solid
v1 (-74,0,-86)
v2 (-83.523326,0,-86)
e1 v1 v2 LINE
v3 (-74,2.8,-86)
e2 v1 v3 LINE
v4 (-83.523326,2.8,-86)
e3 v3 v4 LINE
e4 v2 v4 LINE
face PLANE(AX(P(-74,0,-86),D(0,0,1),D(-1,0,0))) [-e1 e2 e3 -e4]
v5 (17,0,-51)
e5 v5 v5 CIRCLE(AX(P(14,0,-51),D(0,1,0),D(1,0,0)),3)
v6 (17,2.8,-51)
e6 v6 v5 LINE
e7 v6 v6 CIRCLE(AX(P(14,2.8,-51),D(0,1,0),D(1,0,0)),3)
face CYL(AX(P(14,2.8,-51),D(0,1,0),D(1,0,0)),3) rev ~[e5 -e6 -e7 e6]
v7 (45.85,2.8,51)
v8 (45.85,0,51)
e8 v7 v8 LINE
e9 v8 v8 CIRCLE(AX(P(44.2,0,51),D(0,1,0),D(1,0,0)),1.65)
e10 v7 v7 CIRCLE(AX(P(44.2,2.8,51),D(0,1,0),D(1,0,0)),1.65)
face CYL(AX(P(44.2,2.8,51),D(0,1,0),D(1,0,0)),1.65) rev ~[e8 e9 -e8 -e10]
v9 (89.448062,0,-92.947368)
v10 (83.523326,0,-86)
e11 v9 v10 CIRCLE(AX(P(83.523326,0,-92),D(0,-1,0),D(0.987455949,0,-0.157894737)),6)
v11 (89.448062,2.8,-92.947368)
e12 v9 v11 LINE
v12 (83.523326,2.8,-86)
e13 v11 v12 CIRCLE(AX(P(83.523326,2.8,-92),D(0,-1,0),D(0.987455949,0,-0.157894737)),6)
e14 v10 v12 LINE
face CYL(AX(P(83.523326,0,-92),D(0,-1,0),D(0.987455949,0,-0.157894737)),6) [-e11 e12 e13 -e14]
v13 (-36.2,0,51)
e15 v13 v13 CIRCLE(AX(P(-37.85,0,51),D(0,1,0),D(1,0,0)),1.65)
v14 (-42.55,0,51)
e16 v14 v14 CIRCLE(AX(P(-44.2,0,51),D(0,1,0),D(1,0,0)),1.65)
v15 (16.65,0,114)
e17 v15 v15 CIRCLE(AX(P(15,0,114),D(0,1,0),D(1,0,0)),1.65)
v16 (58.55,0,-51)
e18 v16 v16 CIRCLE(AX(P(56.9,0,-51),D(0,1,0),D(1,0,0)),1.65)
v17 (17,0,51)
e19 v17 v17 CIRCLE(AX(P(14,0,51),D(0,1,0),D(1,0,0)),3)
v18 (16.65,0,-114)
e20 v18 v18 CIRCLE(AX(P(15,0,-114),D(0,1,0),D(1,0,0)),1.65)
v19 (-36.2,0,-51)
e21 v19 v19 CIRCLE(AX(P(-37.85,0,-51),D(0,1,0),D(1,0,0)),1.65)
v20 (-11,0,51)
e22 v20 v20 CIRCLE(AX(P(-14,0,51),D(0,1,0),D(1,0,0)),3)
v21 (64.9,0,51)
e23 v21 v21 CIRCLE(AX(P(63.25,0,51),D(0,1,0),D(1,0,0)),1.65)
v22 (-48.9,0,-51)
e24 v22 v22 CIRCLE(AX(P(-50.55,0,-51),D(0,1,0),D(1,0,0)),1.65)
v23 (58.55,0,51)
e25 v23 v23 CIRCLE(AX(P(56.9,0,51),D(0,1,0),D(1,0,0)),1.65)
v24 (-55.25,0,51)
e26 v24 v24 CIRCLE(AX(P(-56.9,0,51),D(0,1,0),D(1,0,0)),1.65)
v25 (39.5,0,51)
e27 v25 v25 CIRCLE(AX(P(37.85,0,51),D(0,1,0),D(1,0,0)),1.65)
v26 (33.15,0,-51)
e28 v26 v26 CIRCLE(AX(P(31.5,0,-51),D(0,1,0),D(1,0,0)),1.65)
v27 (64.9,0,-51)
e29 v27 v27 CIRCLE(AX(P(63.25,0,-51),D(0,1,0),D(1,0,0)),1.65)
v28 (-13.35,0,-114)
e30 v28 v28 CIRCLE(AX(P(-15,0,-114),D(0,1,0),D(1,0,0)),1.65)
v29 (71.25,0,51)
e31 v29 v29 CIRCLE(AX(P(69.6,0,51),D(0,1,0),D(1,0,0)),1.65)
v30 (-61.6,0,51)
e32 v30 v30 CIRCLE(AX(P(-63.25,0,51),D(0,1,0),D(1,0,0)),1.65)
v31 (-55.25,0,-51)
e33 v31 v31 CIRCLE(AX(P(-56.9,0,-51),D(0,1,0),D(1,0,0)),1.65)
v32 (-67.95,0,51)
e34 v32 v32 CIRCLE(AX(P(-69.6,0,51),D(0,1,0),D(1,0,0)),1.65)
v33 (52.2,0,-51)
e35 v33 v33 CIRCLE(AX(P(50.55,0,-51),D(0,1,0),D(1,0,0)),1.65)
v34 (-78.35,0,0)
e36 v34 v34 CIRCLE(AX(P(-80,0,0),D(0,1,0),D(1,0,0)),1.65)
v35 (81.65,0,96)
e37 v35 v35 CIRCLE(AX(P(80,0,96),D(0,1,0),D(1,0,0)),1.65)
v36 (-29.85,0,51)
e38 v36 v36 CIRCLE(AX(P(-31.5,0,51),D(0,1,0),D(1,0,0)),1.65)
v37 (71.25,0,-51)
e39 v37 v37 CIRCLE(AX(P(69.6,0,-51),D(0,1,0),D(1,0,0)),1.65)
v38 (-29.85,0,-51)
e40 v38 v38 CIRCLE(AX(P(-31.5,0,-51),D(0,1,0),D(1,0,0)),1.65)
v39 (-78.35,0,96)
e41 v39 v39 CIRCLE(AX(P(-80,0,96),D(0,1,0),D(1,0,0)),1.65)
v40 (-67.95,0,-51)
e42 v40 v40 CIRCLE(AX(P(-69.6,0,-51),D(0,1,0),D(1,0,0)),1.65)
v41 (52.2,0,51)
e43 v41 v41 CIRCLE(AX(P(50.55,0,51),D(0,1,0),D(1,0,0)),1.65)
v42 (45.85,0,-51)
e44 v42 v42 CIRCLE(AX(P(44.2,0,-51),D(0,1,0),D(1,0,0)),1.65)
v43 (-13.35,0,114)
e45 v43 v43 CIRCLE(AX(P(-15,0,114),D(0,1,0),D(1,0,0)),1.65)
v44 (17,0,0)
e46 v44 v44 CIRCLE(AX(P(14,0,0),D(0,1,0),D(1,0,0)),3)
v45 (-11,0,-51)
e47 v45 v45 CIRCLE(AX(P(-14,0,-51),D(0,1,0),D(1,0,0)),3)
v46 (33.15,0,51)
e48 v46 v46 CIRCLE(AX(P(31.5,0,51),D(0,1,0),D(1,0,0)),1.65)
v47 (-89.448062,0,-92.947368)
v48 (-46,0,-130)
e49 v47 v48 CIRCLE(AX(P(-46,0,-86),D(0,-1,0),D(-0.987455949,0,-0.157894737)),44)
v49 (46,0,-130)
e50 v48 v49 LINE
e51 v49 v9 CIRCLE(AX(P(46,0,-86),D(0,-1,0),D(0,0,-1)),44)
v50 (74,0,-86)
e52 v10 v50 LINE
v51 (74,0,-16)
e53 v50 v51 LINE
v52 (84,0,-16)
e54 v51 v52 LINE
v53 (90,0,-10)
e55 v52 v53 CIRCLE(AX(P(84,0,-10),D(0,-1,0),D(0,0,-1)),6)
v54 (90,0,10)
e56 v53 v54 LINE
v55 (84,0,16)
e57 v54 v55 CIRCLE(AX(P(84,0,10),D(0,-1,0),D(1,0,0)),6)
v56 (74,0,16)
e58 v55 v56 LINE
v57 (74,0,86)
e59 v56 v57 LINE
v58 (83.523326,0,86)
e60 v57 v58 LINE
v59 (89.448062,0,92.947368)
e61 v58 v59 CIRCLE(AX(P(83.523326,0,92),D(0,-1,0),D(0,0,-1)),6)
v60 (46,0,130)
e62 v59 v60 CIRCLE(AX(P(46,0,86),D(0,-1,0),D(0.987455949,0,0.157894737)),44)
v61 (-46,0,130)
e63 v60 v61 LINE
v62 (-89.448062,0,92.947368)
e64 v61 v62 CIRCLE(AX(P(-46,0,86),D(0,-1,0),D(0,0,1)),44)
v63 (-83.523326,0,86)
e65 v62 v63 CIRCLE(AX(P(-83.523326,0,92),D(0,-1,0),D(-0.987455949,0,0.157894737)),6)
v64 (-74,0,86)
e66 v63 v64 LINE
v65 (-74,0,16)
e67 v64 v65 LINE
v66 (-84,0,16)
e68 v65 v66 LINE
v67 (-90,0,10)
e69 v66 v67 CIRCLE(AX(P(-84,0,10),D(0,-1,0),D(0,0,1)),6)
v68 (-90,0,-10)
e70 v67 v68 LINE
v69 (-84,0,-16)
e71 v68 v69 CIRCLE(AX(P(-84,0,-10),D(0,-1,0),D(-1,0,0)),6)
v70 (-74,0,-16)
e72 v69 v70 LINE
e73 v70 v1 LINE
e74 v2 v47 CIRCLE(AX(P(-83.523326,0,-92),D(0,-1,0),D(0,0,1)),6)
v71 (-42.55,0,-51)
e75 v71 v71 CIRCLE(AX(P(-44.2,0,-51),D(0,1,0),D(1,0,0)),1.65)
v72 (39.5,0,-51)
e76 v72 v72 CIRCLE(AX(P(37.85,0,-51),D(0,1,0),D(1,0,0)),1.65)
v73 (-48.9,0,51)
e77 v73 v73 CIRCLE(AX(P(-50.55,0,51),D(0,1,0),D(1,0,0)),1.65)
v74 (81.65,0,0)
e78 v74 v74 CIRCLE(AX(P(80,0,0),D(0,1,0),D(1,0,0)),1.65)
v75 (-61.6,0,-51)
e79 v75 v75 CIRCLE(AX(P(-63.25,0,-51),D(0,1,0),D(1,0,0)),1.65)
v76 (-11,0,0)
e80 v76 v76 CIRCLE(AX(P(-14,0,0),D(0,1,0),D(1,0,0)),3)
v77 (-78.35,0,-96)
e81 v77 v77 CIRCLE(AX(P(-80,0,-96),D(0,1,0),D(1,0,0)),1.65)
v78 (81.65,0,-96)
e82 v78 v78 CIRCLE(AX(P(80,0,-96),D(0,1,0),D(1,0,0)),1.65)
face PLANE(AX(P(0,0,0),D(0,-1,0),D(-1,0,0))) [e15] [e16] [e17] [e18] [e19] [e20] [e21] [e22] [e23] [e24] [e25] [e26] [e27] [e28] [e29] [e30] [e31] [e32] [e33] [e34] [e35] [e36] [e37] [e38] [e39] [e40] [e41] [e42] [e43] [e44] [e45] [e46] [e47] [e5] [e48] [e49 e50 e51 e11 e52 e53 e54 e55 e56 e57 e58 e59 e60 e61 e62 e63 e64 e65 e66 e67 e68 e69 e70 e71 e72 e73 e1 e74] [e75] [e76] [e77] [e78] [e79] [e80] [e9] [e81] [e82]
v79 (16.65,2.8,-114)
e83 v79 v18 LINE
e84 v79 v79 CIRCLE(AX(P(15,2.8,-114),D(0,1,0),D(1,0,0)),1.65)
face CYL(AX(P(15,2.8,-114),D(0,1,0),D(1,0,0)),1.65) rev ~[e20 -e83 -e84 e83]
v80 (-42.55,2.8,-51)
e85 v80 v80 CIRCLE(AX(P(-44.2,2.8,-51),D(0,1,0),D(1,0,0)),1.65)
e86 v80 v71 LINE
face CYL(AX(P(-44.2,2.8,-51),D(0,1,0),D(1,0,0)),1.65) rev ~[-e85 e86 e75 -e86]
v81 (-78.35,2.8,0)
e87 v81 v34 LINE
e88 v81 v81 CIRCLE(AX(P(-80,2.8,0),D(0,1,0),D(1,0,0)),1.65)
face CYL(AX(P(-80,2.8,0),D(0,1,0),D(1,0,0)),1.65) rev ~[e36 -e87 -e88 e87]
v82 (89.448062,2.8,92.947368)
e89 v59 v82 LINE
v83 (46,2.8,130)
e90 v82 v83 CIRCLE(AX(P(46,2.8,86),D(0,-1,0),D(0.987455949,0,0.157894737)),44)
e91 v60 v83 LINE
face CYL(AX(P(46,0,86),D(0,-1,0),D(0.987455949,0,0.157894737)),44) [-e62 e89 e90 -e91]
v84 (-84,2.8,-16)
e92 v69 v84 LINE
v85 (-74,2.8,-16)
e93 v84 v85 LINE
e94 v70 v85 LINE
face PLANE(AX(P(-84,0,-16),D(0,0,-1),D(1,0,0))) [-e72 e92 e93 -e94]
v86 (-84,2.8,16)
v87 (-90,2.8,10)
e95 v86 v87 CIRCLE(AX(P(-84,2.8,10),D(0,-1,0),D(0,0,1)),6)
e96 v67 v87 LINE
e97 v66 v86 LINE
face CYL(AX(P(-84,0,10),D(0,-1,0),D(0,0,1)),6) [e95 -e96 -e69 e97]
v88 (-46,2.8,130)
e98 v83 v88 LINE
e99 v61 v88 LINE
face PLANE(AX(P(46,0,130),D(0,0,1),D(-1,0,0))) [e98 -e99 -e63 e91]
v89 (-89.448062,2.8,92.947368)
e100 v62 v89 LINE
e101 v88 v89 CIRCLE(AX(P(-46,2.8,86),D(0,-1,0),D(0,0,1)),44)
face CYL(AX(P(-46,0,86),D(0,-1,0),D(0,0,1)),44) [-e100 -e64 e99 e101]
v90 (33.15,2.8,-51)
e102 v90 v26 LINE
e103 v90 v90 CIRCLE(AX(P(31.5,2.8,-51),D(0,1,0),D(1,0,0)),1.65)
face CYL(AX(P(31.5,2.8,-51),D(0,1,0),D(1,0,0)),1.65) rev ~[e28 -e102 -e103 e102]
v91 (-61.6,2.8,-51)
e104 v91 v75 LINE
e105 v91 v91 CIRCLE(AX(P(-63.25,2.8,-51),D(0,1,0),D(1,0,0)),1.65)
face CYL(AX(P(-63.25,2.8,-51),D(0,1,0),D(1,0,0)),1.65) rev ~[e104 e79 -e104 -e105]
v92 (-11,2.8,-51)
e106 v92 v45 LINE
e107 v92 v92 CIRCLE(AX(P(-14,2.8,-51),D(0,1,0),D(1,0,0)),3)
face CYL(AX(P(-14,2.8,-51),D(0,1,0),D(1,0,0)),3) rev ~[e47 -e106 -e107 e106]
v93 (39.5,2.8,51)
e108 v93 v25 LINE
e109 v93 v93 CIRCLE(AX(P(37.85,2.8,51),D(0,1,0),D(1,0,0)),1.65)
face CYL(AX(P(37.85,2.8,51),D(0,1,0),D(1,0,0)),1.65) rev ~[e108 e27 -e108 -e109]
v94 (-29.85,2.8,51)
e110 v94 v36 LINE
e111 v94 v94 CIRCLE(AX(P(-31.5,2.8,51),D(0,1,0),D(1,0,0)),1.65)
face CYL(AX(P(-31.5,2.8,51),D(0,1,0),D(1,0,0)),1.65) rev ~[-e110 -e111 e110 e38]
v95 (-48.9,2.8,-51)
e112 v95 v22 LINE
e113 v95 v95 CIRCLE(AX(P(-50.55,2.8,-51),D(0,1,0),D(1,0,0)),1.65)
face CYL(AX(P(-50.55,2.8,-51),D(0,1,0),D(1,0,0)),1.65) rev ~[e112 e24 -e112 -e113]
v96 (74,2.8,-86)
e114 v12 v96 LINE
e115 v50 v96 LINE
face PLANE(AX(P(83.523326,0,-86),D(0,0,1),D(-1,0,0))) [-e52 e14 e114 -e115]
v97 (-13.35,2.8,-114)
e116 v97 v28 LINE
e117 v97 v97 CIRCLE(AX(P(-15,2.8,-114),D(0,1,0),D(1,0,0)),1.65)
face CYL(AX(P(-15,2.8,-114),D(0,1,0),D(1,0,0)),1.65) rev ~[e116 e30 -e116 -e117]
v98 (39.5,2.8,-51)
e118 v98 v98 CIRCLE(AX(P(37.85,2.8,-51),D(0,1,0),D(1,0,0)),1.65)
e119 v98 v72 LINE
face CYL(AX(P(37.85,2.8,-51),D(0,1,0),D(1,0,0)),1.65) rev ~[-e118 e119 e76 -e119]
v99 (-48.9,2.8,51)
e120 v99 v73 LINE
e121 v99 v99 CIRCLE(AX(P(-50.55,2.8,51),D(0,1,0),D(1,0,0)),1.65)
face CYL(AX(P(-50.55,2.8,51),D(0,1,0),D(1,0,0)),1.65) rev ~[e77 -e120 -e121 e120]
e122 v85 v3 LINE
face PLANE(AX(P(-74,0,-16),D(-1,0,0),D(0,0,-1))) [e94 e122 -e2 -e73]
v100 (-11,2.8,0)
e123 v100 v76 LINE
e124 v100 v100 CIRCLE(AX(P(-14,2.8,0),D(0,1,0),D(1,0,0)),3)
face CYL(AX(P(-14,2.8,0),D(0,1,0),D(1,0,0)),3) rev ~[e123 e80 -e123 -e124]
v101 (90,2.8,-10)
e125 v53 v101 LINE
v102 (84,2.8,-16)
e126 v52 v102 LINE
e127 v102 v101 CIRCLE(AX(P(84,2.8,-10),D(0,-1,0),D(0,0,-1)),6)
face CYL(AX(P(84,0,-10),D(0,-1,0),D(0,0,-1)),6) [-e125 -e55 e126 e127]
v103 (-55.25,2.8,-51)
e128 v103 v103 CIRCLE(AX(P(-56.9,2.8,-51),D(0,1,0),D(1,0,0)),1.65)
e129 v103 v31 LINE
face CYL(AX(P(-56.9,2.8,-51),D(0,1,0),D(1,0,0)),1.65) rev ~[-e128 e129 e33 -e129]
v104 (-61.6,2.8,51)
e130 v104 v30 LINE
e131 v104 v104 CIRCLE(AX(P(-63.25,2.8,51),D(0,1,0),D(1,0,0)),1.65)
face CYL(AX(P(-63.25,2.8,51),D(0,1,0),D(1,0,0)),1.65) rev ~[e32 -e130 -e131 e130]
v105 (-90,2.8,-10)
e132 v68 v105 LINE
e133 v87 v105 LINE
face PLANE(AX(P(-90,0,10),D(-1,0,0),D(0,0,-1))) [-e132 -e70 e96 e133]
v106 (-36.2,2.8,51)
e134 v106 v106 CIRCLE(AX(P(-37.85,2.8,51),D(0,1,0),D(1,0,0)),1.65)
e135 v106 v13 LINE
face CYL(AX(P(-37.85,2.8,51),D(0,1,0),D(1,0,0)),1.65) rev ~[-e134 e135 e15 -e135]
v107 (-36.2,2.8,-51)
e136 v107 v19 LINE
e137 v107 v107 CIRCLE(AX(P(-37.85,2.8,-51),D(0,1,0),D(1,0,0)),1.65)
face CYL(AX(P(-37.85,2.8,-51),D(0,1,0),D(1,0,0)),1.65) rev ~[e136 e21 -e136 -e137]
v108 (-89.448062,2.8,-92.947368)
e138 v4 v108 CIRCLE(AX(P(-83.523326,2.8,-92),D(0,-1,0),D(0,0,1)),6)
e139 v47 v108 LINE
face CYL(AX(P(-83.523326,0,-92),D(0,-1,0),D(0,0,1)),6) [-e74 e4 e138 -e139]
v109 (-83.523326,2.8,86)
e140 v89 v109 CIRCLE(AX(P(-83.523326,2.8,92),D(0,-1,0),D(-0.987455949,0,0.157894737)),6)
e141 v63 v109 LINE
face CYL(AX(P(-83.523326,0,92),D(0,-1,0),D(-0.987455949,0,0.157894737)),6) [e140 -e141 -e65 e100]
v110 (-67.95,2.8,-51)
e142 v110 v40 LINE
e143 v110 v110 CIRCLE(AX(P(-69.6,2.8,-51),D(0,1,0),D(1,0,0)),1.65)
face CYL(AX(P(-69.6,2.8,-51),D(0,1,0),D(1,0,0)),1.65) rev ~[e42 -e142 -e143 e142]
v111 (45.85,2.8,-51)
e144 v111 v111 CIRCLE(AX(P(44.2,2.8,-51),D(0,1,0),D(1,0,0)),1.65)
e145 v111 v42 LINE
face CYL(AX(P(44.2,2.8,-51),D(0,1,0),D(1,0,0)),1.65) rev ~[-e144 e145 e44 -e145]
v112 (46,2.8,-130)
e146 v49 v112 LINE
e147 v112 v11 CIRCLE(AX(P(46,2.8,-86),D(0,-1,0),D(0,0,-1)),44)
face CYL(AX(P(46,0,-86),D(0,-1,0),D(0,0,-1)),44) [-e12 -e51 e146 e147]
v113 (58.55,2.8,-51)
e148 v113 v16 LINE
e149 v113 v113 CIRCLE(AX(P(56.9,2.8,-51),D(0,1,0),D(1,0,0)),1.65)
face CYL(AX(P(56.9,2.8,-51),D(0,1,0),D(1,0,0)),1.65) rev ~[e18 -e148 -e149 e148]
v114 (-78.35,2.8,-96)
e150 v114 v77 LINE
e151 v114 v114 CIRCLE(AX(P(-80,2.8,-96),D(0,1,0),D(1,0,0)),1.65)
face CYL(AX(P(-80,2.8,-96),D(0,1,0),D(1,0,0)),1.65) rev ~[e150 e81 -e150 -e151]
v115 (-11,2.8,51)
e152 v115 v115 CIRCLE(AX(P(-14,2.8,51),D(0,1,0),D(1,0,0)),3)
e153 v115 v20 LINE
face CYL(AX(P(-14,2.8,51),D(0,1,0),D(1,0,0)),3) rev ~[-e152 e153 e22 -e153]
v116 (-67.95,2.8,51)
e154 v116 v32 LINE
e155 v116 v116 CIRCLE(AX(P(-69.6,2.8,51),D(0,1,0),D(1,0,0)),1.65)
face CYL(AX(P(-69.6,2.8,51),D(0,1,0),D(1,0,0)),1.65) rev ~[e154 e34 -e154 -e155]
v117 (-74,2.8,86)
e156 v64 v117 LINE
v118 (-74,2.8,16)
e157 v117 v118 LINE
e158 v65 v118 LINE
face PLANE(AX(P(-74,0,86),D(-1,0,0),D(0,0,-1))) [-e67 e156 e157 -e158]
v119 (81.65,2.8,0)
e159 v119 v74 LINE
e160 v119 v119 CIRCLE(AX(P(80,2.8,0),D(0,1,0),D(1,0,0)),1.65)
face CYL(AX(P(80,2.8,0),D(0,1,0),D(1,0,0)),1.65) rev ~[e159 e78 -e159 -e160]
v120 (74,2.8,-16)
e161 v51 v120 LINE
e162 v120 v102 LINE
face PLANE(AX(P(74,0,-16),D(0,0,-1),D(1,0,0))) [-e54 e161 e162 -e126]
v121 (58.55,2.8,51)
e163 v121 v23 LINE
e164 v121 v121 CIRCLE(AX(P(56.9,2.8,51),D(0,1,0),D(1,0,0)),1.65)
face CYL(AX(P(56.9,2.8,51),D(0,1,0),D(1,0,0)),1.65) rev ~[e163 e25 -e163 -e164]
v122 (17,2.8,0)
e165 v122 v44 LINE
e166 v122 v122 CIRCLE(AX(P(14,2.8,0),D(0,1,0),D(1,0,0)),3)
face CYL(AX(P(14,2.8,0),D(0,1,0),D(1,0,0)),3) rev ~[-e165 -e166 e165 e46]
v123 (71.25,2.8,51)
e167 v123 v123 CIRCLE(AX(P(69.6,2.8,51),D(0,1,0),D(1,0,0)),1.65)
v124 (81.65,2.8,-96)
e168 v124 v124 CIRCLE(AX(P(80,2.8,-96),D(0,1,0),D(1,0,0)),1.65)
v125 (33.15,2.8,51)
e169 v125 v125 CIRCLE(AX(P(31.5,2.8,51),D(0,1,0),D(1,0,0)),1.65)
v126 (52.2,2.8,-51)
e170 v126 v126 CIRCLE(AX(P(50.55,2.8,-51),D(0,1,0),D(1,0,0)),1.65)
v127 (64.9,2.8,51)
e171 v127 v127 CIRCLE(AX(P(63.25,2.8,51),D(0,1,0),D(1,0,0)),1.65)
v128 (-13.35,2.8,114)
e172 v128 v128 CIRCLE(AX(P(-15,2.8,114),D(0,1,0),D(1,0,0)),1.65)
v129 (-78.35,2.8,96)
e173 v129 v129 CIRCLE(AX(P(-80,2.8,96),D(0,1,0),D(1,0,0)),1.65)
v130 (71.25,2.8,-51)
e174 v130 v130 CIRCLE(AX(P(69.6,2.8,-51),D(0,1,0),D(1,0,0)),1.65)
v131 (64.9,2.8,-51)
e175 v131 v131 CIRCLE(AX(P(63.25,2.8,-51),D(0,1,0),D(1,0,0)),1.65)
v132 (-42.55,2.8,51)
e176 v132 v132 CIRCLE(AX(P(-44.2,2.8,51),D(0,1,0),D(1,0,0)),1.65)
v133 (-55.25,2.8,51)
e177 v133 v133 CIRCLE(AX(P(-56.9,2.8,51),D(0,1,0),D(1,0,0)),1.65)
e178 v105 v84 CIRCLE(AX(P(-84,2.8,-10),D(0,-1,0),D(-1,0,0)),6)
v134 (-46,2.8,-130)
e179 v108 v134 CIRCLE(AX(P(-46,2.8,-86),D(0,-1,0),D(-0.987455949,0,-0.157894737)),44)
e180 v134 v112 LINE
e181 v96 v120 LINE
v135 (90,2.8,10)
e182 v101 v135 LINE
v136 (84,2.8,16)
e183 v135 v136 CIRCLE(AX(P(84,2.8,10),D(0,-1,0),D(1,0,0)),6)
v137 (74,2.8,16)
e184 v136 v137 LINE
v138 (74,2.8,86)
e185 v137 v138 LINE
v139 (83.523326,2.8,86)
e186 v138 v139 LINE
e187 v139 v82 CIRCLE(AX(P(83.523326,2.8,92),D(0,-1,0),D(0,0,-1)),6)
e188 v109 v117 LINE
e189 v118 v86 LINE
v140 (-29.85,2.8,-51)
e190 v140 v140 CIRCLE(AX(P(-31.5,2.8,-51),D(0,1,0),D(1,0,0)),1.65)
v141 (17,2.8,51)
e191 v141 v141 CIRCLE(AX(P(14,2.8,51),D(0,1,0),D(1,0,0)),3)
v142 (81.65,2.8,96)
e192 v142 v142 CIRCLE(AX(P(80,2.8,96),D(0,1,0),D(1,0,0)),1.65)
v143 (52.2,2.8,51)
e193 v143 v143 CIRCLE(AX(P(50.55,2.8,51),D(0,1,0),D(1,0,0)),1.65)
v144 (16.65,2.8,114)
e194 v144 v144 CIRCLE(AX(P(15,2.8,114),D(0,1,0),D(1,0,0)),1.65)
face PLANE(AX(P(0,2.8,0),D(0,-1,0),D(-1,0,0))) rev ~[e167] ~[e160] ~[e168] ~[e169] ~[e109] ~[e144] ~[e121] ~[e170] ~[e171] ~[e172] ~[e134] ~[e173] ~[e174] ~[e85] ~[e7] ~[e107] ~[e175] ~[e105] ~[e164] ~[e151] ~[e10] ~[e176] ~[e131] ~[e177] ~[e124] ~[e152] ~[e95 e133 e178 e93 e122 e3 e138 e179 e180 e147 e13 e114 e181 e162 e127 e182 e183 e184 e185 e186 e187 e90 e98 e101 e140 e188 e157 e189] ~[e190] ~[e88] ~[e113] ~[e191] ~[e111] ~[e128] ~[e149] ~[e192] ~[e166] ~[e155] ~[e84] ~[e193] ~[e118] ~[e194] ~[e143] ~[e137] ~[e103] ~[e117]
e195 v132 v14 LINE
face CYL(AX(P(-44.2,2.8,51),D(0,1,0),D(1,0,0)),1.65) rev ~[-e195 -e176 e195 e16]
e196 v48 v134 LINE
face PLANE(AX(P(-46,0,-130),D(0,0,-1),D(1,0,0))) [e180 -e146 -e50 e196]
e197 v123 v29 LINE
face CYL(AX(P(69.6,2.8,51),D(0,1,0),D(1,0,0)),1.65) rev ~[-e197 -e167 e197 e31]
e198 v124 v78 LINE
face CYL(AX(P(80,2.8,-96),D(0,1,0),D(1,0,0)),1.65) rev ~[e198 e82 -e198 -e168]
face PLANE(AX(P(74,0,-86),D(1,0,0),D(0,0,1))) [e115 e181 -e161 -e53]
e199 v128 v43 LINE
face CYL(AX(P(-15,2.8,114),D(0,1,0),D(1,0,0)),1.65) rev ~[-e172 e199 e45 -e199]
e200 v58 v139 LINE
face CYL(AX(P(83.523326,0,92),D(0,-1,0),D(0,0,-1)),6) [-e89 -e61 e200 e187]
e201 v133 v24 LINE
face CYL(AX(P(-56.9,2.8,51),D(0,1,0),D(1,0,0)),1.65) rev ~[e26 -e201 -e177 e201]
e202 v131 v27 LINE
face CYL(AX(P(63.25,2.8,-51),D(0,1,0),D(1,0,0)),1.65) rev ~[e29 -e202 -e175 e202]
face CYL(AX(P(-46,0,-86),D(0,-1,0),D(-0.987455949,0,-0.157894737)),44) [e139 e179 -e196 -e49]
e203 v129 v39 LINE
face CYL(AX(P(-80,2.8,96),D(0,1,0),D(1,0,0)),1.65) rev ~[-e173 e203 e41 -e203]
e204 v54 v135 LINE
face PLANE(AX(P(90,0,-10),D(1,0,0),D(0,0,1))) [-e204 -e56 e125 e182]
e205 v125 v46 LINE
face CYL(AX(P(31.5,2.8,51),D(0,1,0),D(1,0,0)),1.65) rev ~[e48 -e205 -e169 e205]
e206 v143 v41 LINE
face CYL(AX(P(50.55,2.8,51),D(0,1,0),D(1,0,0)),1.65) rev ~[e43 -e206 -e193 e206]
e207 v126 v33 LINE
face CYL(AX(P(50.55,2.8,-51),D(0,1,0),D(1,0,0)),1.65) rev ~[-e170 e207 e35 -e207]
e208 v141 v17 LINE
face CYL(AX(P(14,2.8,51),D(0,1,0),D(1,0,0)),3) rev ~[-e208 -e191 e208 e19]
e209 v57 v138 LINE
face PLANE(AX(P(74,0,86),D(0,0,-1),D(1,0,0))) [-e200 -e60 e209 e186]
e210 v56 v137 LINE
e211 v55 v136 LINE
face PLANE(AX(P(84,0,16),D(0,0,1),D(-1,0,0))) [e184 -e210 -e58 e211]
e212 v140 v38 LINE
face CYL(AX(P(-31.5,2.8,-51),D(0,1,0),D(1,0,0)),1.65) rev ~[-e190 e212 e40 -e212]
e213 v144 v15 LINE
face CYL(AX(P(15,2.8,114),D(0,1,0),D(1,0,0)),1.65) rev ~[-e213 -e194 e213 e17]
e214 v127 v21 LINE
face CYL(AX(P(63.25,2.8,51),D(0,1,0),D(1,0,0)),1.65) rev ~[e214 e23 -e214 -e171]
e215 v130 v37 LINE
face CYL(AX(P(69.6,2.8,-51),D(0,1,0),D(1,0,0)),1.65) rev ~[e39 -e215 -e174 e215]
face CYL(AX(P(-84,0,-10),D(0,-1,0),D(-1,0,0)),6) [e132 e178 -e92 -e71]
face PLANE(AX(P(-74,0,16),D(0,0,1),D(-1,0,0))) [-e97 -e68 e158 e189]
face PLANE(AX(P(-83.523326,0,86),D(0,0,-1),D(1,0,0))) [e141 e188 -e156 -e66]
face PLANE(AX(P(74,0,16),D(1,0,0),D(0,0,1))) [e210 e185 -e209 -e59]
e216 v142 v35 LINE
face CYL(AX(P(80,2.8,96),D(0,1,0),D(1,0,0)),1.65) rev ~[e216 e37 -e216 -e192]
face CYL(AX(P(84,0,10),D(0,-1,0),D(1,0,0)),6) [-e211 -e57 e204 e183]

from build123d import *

# Parameters (mm, degrees)
BOSS_EXTRUDE4_DEPTH = 2.8
SKETCH5_R           = 1.65
SKETCH5_R_2         = 3
CUT_EXTRUDE1_DEPTH  = 3.8


with BuildPart() as part:
    # Sketch2 → Boss-Extrude4 (new body)
    with BuildSketch(Plane(origin=(0, 0, 0), x_dir=(1, 0, 0), z_dir=(0, 1, 0))):
        with BuildLine():
            Line((46, -130), (-46, -130))
            ThreePointArc((-46, -130), (-74.550970119, -119.478980051), (-89.448061775, -92.947368421))
            ThreePointArc((-89.448061775, -92.947368421), (-88.08864154, -88.106685893), (-83.523326079, -86))
            Line((-83.523326079, -86), (-74, -86))
            Line((-74, -86), (-74, -16))
            Line((-74, -16), (-84, -16))
            ThreePointArc((-84, -16), (-88.242640687, -14.242640687), (-90, -10))
            Line((-90, -10), (-90, 10))
            ThreePointArc((-90, 10), (-88.242640687, 14.242640687), (-84, 16))
            Line((-84, 16), (-74, 16))
            Line((-74, 16), (-74, 86))
            Line((-74, 86), (-83.523326079, 86))
            ThreePointArc((-83.523326079, 86), (-88.08864154, 88.106685893), (-89.448061775, 92.947368421))
            ThreePointArc((-89.448061775, 92.947368421), (-74.550970119, 119.478980051), (-46, 130))
            Line((-46, 130), (46, 130))
            ThreePointArc((46, 130), (74.550970119, 119.478980051), (89.448061775, 92.947368421))
            ThreePointArc((89.448061775, 92.947368421), (88.08864154, 88.106685893), (83.523326079, 86))
            Line((83.523326079, 86), (74, 86))
            Line((74, 86), (74, 16))
            Line((74, 16), (84, 16))
            ThreePointArc((84, 16), (88.242640687, 14.242640687), (90, 10))
            Line((90, 10), (90, -10))
            ThreePointArc((90, -10), (88.242640687, -14.242640687), (84, -16))
            Line((84, -16), (74, -16))
            Line((74, -16), (74, -86))
            Line((74, -86), (83.523326079, -86))
            ThreePointArc((83.523326079, -86), (88.08864154, -88.106685893), (89.448061775, -92.947368421))
            ThreePointArc((89.448061775, -92.947368421), (74.550970119, -119.478980051), (46, -130))
        make_face()
    extrude(amount=BOSS_EXTRUDE4_DEPTH)

    # Sketch5 → Cut-Extrude1 (cut, through all)
    with BuildSketch(Plane(origin=(0, 2.8, 0), x_dir=(1, 0, 0), z_dir=(0, 1, 0))):
        with Locations((-69.6, -51)):
            Circle(SKETCH5_R)
        with Locations((-63.25, -51)):
            Circle(SKETCH5_R)
        with Locations((-56.9, -51)):
            Circle(SKETCH5_R)
        with Locations((-50.55, -51)):
            Circle(SKETCH5_R)
        with Locations((-44.2, -51)):
            Circle(SKETCH5_R)
        with Locations((-37.85, -51)):
            Circle(SKETCH5_R)
        with Locations((-31.5, -51)):
            Circle(SKETCH5_R)
        with Locations((31.5, -51)):
            Circle(SKETCH5_R)
        with Locations((37.85, -51)):
            Circle(SKETCH5_R)
        with Locations((44.2, -51)):
            Circle(SKETCH5_R)
        with Locations((50.55, -51)):
            Circle(SKETCH5_R)
        with Locations((56.9, -51)):
            Circle(SKETCH5_R)
        with Locations((63.25, -51)):
            Circle(SKETCH5_R)
        with Locations((69.6, -51)):
            Circle(SKETCH5_R)
        with Locations((69.6, 51)):
            Circle(SKETCH5_R)
        with Locations((63.25, 51)):
            Circle(SKETCH5_R)
        with Locations((56.9, 51)):
            Circle(SKETCH5_R)
        with Locations((50.55, 51)):
            Circle(SKETCH5_R)
        with Locations((44.2, 51)):
            Circle(SKETCH5_R)
        with Locations((37.85, 51)):
            Circle(SKETCH5_R)
        with Locations((31.5, 51)):
            Circle(SKETCH5_R)
        with Locations((-31.5, 51)):
            Circle(SKETCH5_R)
        with Locations((-37.85, 51)):
            Circle(SKETCH5_R)
        with Locations((-44.2, 51)):
            Circle(SKETCH5_R)
        with Locations((-50.55, 51)):
            Circle(SKETCH5_R)
        with Locations((-56.9, 51)):
            Circle(SKETCH5_R)
        with Locations((-63.25, 51)):
            Circle(SKETCH5_R)
        with Locations((-69.6, 51)):
            Circle(SKETCH5_R)
        with Locations((-14, -51)):
            Circle(SKETCH5_R_2)
        with Locations((14, -51)):
            Circle(SKETCH5_R_2)
        with Locations((14, 51)):
            Circle(SKETCH5_R_2)
        with Locations((-14, 51)):
            Circle(SKETCH5_R_2)
        with Locations((-14, 0)):
            Circle(SKETCH5_R_2)
        with Locations((14, 0)):
            Circle(SKETCH5_R_2)
        with Locations((-80, 96)):
            Circle(SKETCH5_R)
        with Locations((-80, 0)):
            Circle(SKETCH5_R)
        with Locations((80, 0)):
            Circle(SKETCH5_R)
        with Locations((-80, -96)):
            Circle(SKETCH5_R)
        with Locations((80, -96)):
            Circle(SKETCH5_R)
        with Locations((80, 96)):
            Circle(SKETCH5_R)
        with Locations((-15, -114)):
            Circle(SKETCH5_R)
        with Locations((15, -114)):
            Circle(SKETCH5_R)
        with Locations((15, 114)):
            Circle(SKETCH5_R)
        with Locations((-15, 114)):
            Circle(SKETCH5_R)
    extrude(amount=-CUT_EXTRUDE1_DEPTH, mode=Mode.SUBTRACT)


solid = part.part
